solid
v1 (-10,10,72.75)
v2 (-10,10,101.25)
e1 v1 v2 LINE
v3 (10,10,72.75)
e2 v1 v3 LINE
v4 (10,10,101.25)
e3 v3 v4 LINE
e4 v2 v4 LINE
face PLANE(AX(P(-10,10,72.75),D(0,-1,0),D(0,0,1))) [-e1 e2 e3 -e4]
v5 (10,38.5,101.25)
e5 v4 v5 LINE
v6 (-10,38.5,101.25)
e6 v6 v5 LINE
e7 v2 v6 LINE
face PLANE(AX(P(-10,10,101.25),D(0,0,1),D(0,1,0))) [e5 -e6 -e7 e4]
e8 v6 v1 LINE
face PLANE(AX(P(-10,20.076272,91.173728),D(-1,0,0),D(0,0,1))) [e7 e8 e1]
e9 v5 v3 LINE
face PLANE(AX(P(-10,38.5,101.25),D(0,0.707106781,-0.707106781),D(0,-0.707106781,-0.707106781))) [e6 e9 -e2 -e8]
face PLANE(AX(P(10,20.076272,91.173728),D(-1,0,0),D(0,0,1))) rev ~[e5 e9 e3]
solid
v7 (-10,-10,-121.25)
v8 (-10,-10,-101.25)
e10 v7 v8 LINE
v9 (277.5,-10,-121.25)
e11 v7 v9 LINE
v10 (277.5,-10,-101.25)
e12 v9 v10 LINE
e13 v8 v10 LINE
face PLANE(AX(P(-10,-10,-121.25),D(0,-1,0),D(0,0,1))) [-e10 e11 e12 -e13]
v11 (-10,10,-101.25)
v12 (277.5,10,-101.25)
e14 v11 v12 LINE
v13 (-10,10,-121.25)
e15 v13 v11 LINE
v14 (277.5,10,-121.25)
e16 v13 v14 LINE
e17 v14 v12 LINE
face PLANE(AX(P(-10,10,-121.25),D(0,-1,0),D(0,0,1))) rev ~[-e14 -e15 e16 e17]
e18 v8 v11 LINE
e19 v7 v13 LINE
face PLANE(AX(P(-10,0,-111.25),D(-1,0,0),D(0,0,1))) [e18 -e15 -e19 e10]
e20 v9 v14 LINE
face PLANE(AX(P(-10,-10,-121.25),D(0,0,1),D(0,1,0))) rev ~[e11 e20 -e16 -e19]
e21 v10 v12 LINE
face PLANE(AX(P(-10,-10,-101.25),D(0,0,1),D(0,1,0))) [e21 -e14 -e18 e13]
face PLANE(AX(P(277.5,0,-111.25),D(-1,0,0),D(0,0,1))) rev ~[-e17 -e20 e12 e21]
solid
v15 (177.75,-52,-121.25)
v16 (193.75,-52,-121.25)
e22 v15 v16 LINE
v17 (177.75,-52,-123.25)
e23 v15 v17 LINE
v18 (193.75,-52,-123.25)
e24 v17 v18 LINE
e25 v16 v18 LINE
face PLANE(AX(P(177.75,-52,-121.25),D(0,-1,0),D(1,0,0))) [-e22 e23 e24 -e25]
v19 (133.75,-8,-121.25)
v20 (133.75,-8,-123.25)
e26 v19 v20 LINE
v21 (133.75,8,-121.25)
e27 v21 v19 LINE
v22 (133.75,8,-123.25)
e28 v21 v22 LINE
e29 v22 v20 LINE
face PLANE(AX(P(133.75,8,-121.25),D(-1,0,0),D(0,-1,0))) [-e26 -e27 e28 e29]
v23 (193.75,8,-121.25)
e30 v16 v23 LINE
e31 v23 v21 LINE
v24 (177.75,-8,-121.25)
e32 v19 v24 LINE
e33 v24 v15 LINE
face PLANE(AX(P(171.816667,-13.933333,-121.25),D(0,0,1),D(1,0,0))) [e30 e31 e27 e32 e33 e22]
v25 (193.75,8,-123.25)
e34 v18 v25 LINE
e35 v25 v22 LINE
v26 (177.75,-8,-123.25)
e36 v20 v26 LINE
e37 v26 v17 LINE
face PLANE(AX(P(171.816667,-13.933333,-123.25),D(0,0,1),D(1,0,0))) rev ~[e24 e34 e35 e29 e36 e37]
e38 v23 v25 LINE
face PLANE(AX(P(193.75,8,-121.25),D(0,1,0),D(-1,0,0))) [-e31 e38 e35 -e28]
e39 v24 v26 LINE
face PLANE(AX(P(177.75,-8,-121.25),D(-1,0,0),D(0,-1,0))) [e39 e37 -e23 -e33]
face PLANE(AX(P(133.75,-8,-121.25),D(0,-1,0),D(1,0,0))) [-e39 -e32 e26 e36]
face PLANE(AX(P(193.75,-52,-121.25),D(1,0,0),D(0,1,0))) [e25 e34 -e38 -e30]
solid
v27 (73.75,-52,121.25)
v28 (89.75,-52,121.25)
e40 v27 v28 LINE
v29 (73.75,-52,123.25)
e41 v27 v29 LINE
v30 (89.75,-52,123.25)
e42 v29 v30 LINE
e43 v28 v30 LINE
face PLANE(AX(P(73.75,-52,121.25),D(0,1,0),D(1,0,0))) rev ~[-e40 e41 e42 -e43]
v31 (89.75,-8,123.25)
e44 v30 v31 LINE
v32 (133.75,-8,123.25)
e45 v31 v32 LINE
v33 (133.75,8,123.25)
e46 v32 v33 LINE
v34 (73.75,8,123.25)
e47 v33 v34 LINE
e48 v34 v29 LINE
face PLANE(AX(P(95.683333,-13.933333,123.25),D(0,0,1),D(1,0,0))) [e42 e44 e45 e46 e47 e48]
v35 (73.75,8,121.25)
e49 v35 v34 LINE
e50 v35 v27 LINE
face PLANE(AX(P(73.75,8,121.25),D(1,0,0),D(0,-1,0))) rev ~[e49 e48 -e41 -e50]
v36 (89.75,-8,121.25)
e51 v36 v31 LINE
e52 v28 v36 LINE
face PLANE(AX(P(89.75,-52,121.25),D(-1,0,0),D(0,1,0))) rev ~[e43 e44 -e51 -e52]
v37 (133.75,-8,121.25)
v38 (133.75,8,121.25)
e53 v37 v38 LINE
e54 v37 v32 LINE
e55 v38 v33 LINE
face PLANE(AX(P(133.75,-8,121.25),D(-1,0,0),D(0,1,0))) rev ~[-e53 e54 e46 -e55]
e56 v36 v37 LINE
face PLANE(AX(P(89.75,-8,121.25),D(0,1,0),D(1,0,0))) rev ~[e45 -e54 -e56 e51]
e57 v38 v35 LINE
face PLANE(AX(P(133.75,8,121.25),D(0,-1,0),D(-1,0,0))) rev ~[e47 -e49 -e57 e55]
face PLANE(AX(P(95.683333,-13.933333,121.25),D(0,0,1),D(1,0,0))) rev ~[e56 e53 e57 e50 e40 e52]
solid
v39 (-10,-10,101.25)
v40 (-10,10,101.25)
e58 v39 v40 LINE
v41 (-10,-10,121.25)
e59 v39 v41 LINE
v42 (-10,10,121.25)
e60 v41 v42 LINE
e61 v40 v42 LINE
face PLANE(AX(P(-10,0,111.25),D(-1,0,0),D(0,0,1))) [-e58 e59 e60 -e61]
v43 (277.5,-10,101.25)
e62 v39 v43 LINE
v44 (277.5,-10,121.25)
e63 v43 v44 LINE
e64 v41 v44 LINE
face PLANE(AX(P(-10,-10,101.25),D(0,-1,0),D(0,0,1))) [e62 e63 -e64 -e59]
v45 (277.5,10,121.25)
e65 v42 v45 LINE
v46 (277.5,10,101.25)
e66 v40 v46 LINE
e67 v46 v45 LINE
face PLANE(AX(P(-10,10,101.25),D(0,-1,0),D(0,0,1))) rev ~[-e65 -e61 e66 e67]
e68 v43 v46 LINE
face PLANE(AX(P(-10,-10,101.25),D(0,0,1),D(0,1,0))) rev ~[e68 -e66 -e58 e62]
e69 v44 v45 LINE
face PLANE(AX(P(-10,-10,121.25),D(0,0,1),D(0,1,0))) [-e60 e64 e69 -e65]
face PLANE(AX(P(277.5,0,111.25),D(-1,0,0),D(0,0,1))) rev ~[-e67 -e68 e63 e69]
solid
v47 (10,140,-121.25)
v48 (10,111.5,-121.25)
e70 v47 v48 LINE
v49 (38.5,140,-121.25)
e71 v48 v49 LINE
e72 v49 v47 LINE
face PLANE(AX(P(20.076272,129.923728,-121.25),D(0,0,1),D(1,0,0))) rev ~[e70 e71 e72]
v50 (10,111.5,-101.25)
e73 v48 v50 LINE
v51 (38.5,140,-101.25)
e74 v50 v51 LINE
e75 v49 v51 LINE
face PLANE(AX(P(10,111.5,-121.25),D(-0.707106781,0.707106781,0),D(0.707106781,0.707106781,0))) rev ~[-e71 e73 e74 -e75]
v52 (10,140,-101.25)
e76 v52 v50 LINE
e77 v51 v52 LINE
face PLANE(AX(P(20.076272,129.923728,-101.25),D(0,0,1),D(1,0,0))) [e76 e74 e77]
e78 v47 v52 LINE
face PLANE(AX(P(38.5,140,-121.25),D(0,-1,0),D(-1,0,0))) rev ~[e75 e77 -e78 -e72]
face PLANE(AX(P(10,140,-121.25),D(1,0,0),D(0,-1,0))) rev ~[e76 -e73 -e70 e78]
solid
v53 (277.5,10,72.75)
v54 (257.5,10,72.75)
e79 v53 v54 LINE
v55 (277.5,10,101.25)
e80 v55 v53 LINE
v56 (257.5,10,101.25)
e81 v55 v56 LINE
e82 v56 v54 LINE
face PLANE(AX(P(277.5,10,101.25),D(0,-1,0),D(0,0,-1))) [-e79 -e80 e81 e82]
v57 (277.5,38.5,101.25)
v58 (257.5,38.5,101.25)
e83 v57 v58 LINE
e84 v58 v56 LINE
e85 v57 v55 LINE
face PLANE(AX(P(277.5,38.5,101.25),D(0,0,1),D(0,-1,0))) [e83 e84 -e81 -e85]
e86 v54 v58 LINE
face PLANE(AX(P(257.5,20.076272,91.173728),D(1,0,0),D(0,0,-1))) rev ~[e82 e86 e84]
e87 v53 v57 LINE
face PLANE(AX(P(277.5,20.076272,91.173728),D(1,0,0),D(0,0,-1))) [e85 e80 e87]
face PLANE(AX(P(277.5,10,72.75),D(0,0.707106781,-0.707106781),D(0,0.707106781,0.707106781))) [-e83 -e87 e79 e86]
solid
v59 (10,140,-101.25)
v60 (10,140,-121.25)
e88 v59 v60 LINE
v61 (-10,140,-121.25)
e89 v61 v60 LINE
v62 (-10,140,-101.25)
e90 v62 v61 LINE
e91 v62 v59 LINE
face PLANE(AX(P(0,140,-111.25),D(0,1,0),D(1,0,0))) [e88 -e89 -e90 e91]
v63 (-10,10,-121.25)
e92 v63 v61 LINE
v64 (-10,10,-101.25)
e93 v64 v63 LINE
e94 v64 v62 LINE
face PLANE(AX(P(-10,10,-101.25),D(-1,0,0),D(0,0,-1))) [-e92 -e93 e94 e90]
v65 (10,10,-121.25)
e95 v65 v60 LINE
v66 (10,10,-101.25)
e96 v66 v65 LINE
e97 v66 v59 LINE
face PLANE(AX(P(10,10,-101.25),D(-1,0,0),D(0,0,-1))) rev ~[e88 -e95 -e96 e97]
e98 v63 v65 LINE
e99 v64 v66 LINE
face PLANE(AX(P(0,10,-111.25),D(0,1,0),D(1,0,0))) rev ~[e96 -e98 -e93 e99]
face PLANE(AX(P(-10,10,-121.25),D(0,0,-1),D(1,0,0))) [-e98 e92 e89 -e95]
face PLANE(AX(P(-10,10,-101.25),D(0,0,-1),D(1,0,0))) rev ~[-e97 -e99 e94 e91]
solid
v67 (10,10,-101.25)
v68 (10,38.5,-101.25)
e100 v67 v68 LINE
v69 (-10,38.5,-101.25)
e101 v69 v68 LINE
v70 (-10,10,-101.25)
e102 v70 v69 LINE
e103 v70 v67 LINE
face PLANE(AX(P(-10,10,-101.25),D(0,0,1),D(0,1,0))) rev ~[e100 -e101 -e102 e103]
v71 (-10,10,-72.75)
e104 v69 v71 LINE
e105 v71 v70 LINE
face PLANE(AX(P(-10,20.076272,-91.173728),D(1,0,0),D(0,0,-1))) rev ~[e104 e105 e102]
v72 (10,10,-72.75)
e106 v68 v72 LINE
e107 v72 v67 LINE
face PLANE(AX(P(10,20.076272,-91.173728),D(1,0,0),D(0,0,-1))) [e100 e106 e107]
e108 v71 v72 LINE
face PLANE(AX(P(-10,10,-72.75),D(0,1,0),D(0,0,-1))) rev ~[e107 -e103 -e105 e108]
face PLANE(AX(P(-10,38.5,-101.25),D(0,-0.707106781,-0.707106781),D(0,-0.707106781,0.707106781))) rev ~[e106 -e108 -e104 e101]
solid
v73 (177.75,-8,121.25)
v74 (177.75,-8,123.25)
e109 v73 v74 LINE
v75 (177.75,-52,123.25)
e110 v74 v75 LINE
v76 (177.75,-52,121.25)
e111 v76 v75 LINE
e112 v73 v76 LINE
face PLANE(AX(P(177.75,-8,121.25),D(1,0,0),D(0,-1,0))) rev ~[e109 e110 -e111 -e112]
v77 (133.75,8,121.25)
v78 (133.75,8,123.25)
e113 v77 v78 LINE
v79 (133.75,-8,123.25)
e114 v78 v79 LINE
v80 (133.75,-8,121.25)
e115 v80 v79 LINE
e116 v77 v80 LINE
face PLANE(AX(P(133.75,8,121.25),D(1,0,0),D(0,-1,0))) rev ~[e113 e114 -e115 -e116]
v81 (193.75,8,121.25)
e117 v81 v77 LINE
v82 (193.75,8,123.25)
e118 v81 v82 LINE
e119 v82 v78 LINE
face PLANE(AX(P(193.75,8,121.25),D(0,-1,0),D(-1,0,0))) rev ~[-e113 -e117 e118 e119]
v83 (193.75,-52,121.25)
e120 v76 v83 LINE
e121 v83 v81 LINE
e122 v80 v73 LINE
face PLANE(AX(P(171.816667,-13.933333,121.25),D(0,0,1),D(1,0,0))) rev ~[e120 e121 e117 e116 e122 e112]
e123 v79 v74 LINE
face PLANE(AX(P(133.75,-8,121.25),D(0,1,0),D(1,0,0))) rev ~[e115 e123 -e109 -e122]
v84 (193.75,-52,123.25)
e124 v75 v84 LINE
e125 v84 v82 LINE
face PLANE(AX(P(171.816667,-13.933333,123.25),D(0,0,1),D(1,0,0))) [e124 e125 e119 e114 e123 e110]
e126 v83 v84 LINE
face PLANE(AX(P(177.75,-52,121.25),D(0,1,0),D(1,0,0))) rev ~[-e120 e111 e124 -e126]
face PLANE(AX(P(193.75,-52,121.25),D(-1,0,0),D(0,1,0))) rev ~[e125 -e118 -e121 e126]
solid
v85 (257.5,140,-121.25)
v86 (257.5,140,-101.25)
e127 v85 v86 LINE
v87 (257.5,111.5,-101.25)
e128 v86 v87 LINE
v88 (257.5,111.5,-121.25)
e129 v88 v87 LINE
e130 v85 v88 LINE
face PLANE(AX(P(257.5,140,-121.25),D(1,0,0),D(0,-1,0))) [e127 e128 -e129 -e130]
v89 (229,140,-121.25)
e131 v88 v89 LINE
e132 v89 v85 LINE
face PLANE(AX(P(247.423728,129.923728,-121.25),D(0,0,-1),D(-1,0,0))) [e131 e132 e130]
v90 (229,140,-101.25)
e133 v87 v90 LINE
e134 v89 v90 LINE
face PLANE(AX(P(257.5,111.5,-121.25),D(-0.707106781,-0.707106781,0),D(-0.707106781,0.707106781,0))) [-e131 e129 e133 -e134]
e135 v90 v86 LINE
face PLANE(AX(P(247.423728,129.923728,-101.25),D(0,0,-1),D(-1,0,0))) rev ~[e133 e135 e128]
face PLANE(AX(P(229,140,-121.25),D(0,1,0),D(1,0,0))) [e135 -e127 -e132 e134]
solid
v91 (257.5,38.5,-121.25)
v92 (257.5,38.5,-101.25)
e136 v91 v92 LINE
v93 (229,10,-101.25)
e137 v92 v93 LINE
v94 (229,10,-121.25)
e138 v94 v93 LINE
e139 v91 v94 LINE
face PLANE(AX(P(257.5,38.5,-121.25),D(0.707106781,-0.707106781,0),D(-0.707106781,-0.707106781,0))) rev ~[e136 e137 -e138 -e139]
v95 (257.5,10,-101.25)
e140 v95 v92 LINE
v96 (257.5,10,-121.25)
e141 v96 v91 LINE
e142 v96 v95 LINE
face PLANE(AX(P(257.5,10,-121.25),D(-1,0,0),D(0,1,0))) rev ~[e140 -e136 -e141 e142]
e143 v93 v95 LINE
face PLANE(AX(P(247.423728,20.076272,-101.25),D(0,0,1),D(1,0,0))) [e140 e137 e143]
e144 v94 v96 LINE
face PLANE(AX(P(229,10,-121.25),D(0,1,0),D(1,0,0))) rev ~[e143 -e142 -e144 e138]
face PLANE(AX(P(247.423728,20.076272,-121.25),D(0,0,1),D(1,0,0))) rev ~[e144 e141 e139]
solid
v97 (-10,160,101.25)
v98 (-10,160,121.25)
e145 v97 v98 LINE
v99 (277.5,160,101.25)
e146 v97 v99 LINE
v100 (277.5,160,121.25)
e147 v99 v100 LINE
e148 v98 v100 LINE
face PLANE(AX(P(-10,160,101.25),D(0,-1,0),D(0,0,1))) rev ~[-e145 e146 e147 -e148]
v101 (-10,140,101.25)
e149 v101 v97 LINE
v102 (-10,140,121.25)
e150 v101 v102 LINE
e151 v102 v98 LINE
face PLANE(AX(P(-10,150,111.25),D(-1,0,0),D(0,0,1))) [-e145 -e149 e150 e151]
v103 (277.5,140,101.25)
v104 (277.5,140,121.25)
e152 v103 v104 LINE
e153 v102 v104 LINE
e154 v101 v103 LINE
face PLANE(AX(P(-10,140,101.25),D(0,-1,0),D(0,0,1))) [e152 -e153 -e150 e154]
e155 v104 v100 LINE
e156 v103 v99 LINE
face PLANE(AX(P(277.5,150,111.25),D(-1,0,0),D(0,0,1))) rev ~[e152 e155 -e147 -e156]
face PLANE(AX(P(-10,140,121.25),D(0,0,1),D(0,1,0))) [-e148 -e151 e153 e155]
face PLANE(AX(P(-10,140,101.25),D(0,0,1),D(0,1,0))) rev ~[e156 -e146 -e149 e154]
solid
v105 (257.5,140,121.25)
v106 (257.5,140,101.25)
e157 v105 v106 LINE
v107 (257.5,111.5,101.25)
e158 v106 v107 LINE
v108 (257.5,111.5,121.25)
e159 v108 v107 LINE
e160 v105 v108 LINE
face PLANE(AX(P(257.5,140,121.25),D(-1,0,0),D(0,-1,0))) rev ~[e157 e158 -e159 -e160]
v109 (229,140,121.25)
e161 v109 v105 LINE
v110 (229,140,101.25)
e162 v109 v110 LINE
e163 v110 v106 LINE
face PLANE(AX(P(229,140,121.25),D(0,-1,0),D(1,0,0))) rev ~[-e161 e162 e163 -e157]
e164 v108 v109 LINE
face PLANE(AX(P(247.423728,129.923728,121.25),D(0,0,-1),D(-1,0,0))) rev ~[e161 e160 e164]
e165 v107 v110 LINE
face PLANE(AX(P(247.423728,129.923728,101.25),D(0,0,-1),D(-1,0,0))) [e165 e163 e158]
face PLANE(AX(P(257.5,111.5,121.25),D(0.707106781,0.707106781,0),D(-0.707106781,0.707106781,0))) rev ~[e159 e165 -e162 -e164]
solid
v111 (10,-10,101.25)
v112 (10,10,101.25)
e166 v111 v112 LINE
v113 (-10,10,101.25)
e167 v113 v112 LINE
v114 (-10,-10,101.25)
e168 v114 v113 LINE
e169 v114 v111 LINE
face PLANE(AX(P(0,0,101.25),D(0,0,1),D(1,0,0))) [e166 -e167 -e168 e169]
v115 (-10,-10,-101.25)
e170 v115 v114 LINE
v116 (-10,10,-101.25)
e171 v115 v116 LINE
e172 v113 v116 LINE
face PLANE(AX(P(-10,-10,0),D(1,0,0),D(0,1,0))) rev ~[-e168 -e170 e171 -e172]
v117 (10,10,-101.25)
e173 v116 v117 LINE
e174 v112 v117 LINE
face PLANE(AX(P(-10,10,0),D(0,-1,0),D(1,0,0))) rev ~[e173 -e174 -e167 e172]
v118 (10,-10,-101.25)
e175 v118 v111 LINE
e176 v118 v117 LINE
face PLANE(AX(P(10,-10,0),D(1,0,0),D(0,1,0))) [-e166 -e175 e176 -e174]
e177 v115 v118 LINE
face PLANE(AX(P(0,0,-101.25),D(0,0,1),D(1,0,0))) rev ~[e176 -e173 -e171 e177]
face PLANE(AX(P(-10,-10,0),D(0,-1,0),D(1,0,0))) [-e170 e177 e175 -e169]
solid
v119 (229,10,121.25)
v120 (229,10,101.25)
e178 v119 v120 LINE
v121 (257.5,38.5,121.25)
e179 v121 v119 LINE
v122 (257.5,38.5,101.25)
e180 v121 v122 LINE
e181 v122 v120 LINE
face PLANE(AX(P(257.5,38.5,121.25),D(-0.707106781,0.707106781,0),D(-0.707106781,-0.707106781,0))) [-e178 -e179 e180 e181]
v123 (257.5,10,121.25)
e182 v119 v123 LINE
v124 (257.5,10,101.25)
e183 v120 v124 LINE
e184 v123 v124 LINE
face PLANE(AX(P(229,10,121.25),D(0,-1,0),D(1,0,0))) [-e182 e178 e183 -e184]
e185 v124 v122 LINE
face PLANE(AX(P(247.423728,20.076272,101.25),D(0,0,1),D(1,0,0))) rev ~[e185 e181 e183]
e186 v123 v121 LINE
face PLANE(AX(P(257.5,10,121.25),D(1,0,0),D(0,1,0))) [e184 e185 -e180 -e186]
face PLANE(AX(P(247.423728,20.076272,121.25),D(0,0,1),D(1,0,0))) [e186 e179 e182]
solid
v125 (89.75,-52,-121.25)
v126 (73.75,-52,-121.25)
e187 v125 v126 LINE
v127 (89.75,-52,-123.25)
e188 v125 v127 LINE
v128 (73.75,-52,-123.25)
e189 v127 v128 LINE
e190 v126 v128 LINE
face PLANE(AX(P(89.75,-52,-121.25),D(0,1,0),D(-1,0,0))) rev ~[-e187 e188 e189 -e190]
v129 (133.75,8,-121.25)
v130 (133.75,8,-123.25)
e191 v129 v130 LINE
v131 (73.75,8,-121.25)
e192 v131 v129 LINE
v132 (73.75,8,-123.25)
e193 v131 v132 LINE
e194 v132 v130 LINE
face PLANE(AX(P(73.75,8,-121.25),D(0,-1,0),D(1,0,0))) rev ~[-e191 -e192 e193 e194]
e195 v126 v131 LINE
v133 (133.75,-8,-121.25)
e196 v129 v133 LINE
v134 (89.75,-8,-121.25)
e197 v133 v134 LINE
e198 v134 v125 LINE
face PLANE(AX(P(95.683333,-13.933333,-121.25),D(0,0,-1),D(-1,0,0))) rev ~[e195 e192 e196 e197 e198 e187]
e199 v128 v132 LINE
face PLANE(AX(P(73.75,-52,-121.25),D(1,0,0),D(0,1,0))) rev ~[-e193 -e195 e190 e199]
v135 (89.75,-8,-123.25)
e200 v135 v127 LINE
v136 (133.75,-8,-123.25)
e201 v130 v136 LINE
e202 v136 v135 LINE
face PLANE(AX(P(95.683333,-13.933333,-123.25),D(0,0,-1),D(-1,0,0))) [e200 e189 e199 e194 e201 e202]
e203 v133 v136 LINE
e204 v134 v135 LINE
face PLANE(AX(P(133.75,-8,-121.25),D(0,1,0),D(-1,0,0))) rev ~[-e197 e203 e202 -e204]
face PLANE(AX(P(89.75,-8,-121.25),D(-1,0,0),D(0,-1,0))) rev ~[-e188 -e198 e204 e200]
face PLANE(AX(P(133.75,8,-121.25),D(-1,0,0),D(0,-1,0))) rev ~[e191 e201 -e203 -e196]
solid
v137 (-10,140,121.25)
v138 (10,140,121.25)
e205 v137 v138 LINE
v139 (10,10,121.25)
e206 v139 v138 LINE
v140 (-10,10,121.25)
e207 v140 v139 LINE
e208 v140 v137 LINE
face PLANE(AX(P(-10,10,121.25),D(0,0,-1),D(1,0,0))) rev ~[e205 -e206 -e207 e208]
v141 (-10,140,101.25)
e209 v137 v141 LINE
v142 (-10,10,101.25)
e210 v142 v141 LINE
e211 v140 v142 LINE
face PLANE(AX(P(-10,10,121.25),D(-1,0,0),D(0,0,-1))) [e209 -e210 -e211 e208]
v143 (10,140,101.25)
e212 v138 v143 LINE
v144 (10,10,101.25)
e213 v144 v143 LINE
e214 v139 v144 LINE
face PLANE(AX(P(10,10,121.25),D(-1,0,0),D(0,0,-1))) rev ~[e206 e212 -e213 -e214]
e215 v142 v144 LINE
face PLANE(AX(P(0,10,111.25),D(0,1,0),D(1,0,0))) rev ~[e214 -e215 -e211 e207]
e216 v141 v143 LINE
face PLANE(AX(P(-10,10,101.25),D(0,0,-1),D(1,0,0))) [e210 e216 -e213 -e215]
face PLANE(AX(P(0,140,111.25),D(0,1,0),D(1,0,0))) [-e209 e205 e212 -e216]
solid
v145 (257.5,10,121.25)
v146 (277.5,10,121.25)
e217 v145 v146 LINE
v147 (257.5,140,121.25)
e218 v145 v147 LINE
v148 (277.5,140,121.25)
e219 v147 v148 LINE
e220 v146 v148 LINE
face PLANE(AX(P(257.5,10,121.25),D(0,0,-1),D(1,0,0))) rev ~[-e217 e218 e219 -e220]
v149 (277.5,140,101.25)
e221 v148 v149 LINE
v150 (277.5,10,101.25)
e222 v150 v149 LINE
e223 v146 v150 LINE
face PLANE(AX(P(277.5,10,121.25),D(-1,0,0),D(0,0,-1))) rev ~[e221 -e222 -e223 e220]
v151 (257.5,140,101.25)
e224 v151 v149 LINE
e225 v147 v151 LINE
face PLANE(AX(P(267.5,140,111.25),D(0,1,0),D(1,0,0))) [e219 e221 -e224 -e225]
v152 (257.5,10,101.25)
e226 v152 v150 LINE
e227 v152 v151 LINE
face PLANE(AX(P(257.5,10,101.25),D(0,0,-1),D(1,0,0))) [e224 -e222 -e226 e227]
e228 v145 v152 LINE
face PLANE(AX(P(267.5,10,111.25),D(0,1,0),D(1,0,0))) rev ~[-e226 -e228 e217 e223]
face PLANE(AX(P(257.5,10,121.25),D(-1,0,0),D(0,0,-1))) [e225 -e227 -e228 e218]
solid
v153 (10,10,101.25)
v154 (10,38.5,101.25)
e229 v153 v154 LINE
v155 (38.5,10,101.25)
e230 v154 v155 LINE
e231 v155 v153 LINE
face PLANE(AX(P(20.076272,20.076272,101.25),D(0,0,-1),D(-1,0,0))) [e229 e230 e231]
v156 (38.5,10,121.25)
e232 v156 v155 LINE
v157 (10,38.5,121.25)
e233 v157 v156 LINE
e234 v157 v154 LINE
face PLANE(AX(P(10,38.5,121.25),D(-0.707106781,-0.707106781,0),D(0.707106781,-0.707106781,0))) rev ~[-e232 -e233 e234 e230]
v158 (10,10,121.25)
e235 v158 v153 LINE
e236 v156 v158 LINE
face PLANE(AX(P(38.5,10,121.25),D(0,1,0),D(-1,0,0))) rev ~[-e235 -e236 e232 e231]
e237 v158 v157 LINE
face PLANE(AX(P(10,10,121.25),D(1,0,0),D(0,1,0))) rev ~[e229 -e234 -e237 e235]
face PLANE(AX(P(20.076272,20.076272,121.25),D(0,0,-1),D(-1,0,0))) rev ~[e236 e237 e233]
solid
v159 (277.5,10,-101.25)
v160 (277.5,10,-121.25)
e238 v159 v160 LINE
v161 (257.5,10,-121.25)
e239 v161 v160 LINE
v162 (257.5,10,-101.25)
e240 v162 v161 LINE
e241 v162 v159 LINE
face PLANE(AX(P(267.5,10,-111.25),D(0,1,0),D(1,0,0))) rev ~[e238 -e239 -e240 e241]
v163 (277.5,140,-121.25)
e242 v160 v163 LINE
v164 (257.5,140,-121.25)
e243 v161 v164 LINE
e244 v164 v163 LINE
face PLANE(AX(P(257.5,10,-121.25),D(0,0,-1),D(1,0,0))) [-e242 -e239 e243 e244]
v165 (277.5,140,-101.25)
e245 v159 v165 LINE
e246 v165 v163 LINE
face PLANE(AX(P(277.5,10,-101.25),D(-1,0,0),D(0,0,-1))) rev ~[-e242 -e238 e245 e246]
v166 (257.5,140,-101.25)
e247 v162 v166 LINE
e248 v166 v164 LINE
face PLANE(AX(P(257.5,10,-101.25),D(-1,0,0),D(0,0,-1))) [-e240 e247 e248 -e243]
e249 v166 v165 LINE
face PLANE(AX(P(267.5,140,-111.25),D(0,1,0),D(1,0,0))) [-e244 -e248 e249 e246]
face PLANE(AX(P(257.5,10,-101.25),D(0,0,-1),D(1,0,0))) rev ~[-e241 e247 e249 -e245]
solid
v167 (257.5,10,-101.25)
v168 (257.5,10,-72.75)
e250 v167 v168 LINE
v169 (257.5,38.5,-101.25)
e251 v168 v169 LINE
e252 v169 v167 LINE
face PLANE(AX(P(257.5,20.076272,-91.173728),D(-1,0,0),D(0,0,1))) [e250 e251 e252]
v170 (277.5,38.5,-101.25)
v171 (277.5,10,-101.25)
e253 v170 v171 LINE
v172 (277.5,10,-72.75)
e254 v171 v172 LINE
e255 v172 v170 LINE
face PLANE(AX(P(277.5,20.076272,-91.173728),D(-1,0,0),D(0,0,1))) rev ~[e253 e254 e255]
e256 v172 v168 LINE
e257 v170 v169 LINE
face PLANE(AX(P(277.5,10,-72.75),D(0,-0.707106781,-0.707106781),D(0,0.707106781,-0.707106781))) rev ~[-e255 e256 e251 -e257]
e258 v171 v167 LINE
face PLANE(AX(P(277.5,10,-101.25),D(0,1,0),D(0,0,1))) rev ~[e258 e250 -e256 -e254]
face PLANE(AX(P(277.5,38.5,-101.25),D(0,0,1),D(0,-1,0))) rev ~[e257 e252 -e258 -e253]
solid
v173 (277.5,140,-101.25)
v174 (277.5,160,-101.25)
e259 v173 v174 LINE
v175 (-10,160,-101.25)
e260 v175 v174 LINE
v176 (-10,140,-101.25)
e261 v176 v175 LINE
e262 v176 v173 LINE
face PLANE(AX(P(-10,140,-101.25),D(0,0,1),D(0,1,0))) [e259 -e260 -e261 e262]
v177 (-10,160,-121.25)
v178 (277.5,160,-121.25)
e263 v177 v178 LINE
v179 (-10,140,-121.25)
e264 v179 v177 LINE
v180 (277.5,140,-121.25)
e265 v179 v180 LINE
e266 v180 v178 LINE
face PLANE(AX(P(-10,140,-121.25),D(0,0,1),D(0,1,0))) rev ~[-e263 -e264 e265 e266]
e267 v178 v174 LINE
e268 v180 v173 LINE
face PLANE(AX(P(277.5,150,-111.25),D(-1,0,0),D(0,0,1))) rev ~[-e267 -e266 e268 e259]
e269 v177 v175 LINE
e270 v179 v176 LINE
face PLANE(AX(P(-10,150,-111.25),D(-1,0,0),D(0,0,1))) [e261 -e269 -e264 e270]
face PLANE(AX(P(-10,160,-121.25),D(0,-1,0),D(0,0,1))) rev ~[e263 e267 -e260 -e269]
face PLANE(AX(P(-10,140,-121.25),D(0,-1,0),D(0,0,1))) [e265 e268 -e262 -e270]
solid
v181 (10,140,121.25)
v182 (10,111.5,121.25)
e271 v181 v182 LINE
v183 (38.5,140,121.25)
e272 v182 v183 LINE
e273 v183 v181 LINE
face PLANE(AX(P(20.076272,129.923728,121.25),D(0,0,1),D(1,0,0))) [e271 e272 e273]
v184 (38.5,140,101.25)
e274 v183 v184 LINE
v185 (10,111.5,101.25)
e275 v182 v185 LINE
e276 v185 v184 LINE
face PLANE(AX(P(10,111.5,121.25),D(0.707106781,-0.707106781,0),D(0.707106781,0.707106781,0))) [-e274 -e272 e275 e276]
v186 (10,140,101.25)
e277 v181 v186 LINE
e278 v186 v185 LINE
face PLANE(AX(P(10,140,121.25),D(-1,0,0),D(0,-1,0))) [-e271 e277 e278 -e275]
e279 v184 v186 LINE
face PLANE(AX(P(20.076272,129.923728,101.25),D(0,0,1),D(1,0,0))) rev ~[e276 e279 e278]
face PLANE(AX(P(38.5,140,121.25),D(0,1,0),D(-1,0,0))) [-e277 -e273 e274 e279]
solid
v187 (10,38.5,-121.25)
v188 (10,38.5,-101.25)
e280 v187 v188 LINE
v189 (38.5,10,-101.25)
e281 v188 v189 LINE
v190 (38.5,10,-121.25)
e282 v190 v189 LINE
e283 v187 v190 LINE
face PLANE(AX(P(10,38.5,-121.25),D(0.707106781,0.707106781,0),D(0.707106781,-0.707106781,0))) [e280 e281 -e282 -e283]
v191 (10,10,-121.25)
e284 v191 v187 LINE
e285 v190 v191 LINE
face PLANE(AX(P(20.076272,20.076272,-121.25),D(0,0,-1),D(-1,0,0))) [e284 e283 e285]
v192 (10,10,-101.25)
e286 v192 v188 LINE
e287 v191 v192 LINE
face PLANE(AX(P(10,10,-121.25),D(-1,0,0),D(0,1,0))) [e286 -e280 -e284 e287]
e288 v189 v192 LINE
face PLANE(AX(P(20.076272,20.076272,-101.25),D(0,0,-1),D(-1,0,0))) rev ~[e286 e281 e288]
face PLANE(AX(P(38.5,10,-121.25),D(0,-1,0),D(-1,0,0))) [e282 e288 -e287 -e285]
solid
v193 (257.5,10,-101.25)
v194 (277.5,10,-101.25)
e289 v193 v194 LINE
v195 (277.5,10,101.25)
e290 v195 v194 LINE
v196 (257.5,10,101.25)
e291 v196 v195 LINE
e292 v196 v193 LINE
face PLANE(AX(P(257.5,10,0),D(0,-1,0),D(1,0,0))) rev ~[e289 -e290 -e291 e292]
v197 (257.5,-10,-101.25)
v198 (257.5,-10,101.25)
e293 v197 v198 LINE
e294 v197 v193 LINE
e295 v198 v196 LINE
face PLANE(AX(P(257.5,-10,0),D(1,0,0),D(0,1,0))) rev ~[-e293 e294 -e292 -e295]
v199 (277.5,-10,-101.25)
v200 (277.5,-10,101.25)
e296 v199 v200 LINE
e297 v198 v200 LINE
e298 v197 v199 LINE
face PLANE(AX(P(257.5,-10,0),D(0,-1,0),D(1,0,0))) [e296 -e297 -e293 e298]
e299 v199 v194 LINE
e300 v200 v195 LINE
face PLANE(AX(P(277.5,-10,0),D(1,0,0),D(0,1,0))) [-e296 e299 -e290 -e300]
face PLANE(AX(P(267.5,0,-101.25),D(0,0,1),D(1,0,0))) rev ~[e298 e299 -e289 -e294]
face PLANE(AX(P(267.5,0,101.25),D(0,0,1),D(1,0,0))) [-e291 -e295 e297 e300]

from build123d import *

# Parameters (mm, degrees)
SKETCH1_W             = 20
SKETCH1_H             = 20
BOSS_EXTRUDE1_DEPTH   = 101.25
BOSS_EXTRUDE1_2_DEPTH = 101.25
SKETCH2_W             = 20
SKETCH2_H             = 20
BOSS_EXTRUDE2_DEPTH   = 287.5
BOSS_EXTRUDE2_2_DEPTH = 287.5
SKETCH4_W             = 20
SKETCH4_H             = 20
BOSS_EXTRUDE3_DEPTH   = 130
BOSS_EXTRUDE3_2_DEPTH = 130
BOSS_EXTRUDE3_3_DEPTH = 130
BOSS_EXTRUDE3_4_DEPTH = 130
SKETCH5_W             = 20
SKETCH5_H             = 20
BOSS_EXTRUDE4_DEPTH   = 287.5
BOSS_EXTRUDE4_2_DEPTH = 287.5
BOSS_EXTRUDE5_DEPTH   = 20
BOSS_EXTRUDE5_2_DEPTH = 20
BOSS_EXTRUDE6_DEPTH   = 20
BOSS_EXTRUDE6_2_DEPTH = 20
BOSS_EXTRUDE7_DEPTH   = 20
BOSS_EXTRUDE7_2_DEPTH = 20
BOSS_EXTRUDE7_3_DEPTH = 20
BOSS_EXTRUDE7_4_DEPTH = 20
BOSS_EXTRUDE8_DEPTH   = 20
BOSS_EXTRUDE8_2_DEPTH = 20
BOSS_EXTRUDE8_3_DEPTH = 20
BOSS_EXTRUDE8_4_DEPTH = 20
BOSS_EXTRUDE9_DEPTH   = 2
BOSS_EXTRUDE10_DEPTH  = 2
BOSS_EXTRUDE11_DEPTH  = 2
BOSS_EXTRUDE12_DEPTH  = 2


with BuildPart() as part:
    # Sketch1 → Boss-Extrude1 (new, symmetric)
    with BuildSketch(Plane.XY):
        Rectangle(SKETCH1_W, SKETCH1_H)
    extrude(amount=BOSS_EXTRUDE1_DEPTH, both=True)


with BuildPart() as body_2:
    # Sketch1 → Boss-Extrude1 2 (new, symmetric)
    with BuildSketch(Plane.XY):
        with Locations((267.5, 0)):
            Rectangle(SKETCH1_W, SKETCH1_H)
    extrude(amount=BOSS_EXTRUDE1_2_DEPTH, both=True)


with BuildPart() as body_3:
    # Sketch2 → Boss-Extrude2 (new body)
    with BuildSketch(Plane.ZY.offset(10)):
        with Locations((111.25, 0)):
            Rectangle(SKETCH2_W, SKETCH2_H)
    extrude(amount=-BOSS_EXTRUDE2_DEPTH)


with BuildPart() as body_4:
    # Sketch2 → Boss-Extrude2 2 (new body)
    with BuildSketch(Plane.ZY.offset(10)):
        with Locations((-111.25, 0)):
            Rectangle(SKETCH2_W, SKETCH2_H)
    extrude(amount=-BOSS_EXTRUDE2_2_DEPTH)


with BuildPart() as body_5:
    # Sketch4 → Boss-Extrude3 (new body)
    with BuildSketch(Plane(origin=(0, 10, 0), x_dir=(1, 0, 0), z_dir=(0, 1, 0))):
        with Locations((0, 111.25)):
            Rectangle(SKETCH4_W, SKETCH4_H)
    extrude(amount=BOSS_EXTRUDE3_DEPTH)


with BuildPart() as body_6:
    # Sketch4 → Boss-Extrude3 2 (new body)
    with BuildSketch(Plane(origin=(0, 10, 0), x_dir=(1, 0, 0), z_dir=(0, 1, 0))):
        with Locations((0, -111.25)):
            Rectangle(SKETCH4_W, SKETCH4_H)
    extrude(amount=BOSS_EXTRUDE3_2_DEPTH)


with BuildPart() as body_7:
    # Sketch4 → Boss-Extrude3 3 (new body)
    with BuildSketch(Plane(origin=(0, 10, 0), x_dir=(1, 0, 0), z_dir=(0, 1, 0))):
        with Locations((267.5, -111.25)):
            Rectangle(SKETCH4_W, SKETCH4_H)
    extrude(amount=BOSS_EXTRUDE3_3_DEPTH)


with BuildPart() as body_8:
    # Sketch4 → Boss-Extrude3 4 (new body)
    with BuildSketch(Plane(origin=(0, 10, 0), x_dir=(1, 0, 0), z_dir=(0, 1, 0))):
        with Locations((267.5, 111.25)):
            Rectangle(SKETCH4_W, SKETCH4_H)
    extrude(amount=BOSS_EXTRUDE3_4_DEPTH)


with BuildPart() as body_9:
    # Sketch5 → Boss-Extrude4 (new body)
    with BuildSketch(Plane.ZY.offset(10)):
        with Locations((-111.25, 150)):
            Rectangle(SKETCH5_W, SKETCH5_H)
    extrude(amount=-BOSS_EXTRUDE4_DEPTH)


with BuildPart() as body_10:
    # Sketch5 → Boss-Extrude4 2 (new body)
    with BuildSketch(Plane.ZY.offset(10)):
        with Locations((111.25, 150)):
            Rectangle(SKETCH5_W, SKETCH5_H)
    extrude(amount=-BOSS_EXTRUDE4_2_DEPTH)


with BuildPart() as body_11:
    # Sketch6 → Boss-Extrude5 (new body)
    with BuildSketch(Plane(origin=(277.5, 0, 0), x_dir=(0, 0, -1), z_dir=(1, 0, 0))):
        Polygon((-101.25, 10), (-72.75, 10), (-101.25, 38.5), align=None)
    extrude(amount=-BOSS_EXTRUDE5_DEPTH)


with BuildPart() as body_12:
    # Sketch6 → Boss-Extrude5 2 (new body)
    with BuildSketch(Plane(origin=(277.5, 0, 0), x_dir=(0, 0, -1), z_dir=(1, 0, 0))):
        Polygon((101.25, 10), (72.75, 10), (101.25, 38.5), align=None)
    extrude(amount=-BOSS_EXTRUDE5_2_DEPTH)


with BuildPart() as body_13:
    # Sketch7 → Boss-Extrude6 (new body)
    with BuildSketch(Plane.ZY.offset(10)):
        Polygon((-101.25, 10), (-101.25, 38.5), (-72.75, 10), align=None)
    extrude(amount=-BOSS_EXTRUDE6_DEPTH)


with BuildPart() as body_14:
    # Sketch7 → Boss-Extrude6 2 (new body)
    with BuildSketch(Plane.ZY.offset(10)):
        Polygon((101.25, 10), (101.25, 38.5), (72.75, 10), align=None)
    extrude(amount=-BOSS_EXTRUDE6_2_DEPTH)


with BuildPart() as body_15:
    # Sketch8 → Boss-Extrude7 (new body)
    with BuildSketch(Plane.XY.offset(121.25)):
        Polygon((10, 10), (10, 38.5), (38.5, 10), align=None)
    extrude(amount=-BOSS_EXTRUDE7_DEPTH)


with BuildPart() as body_16:
    # Sketch8 → Boss-Extrude7 2 (new body)
    with BuildSketch(Plane.XY.offset(121.25)):
        Polygon((10, 140), (10, 111.5), (38.5, 140), align=None)
    extrude(amount=-BOSS_EXTRUDE7_2_DEPTH)


with BuildPart() as body_17:
    # Sketch8 → Boss-Extrude7 3 (new body)
    with BuildSketch(Plane.XY.offset(121.25)):
        Polygon((257.5, 140), (257.5, 111.5), (229, 140), align=None)
    extrude(amount=-BOSS_EXTRUDE7_3_DEPTH)


with BuildPart() as body_18:
    # Sketch8 → Boss-Extrude7 4 (new body)
    with BuildSketch(Plane.XY.offset(121.25)):
        Polygon((257.5, 10), (257.5, 38.5), (229, 10), align=None)
    extrude(amount=-BOSS_EXTRUDE7_4_DEPTH)


with BuildPart() as body_19:
    # Sketch9 → Boss-Extrude8 (new body)
    with BuildSketch(Plane(origin=(0, 0, -121.25), x_dir=(-1, 0, 0), z_dir=(0, 0, -1))):
        Polygon((-229, 10), (-257.5, 10), (-257.5, 38.5), align=None)
    extrude(amount=-BOSS_EXTRUDE8_DEPTH)


with BuildPart() as body_20:
    # Sketch9 → Boss-Extrude8 2 (new body)
    with BuildSketch(Plane(origin=(0, 0, -121.25), x_dir=(-1, 0, 0), z_dir=(0, 0, -1))):
        Polygon((-38.5, 10), (-10, 10), (-10, 38.5), align=None)
    extrude(amount=-BOSS_EXTRUDE8_2_DEPTH)


with BuildPart() as body_21:
    # Sketch9 → Boss-Extrude8 3 (new body)
    with BuildSketch(Plane(origin=(0, 0, -121.25), x_dir=(-1, 0, 0), z_dir=(0, 0, -1))):
        Polygon((-10, 140), (-10, 111.5), (-38.5, 140), align=None)
    extrude(amount=-BOSS_EXTRUDE8_3_DEPTH)


with BuildPart() as body_22:
    # Sketch9 → Boss-Extrude8 4 (new body)
    with BuildSketch(Plane(origin=(0, 0, -121.25), x_dir=(-1, 0, 0), z_dir=(0, 0, -1))):
        Polygon((-229, 140), (-257.5, 140), (-257.5, 111.5), align=None)
    extrude(amount=-BOSS_EXTRUDE8_4_DEPTH)


with BuildPart() as body_23:
    # Sketch10 → Boss-Extrude9 (new body)
    with BuildSketch(Plane(origin=(0, 0, -121.25), x_dir=(-1, 0, 0), z_dir=(0, 0, -1))):
        Polygon((-133.75, 8), (-133.75, -8), (-89.75, -8), (-89.75, -52), (-73.75, -52), (-73.75, 8), align=None)
    extrude(amount=BOSS_EXTRUDE9_DEPTH)


with BuildPart() as body_24:
    # Sketch11 → Boss-Extrude10 (new body)
    with BuildSketch(Plane(origin=(0, 0, -121.25), x_dir=(-1, 0, 0), z_dir=(0, 0, -1))):
        Polygon((-193.75, 8), (-133.75, 8), (-133.75, -8), (-177.75, -8), (-177.75, -52), (-193.75, -52), align=None)
    extrude(amount=BOSS_EXTRUDE10_DEPTH)


with BuildPart() as body_25:
    # Sketch12 → Boss-Extrude11 (new body)
    with BuildSketch(Plane.XY.offset(121.25)):
        Polygon((133.75, 8), (133.75, -8), (177.75, -8), (177.75, -52), (193.75, -52), (193.75, 8), align=None)
    extrude(amount=BOSS_EXTRUDE11_DEPTH)


with BuildPart() as body_26:
    # Sketch13 → Boss-Extrude12 (new body)
    with BuildSketch(Plane.XY.offset(121.25)):
        Polygon((73.75, 8), (73.75, -52), (89.75, -52), (89.75, -8), (133.75, -8), (133.75, 8), align=None)
    extrude(amount=BOSS_EXTRUDE12_DEPTH)


solid = Compound([part.part, body_2.part, body_3.part, body_4.part, body_5.part, body_6.part, body_7.part, body_8.part, body_9.part, body_10.part, body_11.part, body_12.part, body_13.part, body_14.part, body_15.part, body_16.part, body_17.part, body_18.part, body_19.part, body_20.part, body_21.part, body_22.part, body_23.part, body_24.part, body_25.part, body_26.part])
